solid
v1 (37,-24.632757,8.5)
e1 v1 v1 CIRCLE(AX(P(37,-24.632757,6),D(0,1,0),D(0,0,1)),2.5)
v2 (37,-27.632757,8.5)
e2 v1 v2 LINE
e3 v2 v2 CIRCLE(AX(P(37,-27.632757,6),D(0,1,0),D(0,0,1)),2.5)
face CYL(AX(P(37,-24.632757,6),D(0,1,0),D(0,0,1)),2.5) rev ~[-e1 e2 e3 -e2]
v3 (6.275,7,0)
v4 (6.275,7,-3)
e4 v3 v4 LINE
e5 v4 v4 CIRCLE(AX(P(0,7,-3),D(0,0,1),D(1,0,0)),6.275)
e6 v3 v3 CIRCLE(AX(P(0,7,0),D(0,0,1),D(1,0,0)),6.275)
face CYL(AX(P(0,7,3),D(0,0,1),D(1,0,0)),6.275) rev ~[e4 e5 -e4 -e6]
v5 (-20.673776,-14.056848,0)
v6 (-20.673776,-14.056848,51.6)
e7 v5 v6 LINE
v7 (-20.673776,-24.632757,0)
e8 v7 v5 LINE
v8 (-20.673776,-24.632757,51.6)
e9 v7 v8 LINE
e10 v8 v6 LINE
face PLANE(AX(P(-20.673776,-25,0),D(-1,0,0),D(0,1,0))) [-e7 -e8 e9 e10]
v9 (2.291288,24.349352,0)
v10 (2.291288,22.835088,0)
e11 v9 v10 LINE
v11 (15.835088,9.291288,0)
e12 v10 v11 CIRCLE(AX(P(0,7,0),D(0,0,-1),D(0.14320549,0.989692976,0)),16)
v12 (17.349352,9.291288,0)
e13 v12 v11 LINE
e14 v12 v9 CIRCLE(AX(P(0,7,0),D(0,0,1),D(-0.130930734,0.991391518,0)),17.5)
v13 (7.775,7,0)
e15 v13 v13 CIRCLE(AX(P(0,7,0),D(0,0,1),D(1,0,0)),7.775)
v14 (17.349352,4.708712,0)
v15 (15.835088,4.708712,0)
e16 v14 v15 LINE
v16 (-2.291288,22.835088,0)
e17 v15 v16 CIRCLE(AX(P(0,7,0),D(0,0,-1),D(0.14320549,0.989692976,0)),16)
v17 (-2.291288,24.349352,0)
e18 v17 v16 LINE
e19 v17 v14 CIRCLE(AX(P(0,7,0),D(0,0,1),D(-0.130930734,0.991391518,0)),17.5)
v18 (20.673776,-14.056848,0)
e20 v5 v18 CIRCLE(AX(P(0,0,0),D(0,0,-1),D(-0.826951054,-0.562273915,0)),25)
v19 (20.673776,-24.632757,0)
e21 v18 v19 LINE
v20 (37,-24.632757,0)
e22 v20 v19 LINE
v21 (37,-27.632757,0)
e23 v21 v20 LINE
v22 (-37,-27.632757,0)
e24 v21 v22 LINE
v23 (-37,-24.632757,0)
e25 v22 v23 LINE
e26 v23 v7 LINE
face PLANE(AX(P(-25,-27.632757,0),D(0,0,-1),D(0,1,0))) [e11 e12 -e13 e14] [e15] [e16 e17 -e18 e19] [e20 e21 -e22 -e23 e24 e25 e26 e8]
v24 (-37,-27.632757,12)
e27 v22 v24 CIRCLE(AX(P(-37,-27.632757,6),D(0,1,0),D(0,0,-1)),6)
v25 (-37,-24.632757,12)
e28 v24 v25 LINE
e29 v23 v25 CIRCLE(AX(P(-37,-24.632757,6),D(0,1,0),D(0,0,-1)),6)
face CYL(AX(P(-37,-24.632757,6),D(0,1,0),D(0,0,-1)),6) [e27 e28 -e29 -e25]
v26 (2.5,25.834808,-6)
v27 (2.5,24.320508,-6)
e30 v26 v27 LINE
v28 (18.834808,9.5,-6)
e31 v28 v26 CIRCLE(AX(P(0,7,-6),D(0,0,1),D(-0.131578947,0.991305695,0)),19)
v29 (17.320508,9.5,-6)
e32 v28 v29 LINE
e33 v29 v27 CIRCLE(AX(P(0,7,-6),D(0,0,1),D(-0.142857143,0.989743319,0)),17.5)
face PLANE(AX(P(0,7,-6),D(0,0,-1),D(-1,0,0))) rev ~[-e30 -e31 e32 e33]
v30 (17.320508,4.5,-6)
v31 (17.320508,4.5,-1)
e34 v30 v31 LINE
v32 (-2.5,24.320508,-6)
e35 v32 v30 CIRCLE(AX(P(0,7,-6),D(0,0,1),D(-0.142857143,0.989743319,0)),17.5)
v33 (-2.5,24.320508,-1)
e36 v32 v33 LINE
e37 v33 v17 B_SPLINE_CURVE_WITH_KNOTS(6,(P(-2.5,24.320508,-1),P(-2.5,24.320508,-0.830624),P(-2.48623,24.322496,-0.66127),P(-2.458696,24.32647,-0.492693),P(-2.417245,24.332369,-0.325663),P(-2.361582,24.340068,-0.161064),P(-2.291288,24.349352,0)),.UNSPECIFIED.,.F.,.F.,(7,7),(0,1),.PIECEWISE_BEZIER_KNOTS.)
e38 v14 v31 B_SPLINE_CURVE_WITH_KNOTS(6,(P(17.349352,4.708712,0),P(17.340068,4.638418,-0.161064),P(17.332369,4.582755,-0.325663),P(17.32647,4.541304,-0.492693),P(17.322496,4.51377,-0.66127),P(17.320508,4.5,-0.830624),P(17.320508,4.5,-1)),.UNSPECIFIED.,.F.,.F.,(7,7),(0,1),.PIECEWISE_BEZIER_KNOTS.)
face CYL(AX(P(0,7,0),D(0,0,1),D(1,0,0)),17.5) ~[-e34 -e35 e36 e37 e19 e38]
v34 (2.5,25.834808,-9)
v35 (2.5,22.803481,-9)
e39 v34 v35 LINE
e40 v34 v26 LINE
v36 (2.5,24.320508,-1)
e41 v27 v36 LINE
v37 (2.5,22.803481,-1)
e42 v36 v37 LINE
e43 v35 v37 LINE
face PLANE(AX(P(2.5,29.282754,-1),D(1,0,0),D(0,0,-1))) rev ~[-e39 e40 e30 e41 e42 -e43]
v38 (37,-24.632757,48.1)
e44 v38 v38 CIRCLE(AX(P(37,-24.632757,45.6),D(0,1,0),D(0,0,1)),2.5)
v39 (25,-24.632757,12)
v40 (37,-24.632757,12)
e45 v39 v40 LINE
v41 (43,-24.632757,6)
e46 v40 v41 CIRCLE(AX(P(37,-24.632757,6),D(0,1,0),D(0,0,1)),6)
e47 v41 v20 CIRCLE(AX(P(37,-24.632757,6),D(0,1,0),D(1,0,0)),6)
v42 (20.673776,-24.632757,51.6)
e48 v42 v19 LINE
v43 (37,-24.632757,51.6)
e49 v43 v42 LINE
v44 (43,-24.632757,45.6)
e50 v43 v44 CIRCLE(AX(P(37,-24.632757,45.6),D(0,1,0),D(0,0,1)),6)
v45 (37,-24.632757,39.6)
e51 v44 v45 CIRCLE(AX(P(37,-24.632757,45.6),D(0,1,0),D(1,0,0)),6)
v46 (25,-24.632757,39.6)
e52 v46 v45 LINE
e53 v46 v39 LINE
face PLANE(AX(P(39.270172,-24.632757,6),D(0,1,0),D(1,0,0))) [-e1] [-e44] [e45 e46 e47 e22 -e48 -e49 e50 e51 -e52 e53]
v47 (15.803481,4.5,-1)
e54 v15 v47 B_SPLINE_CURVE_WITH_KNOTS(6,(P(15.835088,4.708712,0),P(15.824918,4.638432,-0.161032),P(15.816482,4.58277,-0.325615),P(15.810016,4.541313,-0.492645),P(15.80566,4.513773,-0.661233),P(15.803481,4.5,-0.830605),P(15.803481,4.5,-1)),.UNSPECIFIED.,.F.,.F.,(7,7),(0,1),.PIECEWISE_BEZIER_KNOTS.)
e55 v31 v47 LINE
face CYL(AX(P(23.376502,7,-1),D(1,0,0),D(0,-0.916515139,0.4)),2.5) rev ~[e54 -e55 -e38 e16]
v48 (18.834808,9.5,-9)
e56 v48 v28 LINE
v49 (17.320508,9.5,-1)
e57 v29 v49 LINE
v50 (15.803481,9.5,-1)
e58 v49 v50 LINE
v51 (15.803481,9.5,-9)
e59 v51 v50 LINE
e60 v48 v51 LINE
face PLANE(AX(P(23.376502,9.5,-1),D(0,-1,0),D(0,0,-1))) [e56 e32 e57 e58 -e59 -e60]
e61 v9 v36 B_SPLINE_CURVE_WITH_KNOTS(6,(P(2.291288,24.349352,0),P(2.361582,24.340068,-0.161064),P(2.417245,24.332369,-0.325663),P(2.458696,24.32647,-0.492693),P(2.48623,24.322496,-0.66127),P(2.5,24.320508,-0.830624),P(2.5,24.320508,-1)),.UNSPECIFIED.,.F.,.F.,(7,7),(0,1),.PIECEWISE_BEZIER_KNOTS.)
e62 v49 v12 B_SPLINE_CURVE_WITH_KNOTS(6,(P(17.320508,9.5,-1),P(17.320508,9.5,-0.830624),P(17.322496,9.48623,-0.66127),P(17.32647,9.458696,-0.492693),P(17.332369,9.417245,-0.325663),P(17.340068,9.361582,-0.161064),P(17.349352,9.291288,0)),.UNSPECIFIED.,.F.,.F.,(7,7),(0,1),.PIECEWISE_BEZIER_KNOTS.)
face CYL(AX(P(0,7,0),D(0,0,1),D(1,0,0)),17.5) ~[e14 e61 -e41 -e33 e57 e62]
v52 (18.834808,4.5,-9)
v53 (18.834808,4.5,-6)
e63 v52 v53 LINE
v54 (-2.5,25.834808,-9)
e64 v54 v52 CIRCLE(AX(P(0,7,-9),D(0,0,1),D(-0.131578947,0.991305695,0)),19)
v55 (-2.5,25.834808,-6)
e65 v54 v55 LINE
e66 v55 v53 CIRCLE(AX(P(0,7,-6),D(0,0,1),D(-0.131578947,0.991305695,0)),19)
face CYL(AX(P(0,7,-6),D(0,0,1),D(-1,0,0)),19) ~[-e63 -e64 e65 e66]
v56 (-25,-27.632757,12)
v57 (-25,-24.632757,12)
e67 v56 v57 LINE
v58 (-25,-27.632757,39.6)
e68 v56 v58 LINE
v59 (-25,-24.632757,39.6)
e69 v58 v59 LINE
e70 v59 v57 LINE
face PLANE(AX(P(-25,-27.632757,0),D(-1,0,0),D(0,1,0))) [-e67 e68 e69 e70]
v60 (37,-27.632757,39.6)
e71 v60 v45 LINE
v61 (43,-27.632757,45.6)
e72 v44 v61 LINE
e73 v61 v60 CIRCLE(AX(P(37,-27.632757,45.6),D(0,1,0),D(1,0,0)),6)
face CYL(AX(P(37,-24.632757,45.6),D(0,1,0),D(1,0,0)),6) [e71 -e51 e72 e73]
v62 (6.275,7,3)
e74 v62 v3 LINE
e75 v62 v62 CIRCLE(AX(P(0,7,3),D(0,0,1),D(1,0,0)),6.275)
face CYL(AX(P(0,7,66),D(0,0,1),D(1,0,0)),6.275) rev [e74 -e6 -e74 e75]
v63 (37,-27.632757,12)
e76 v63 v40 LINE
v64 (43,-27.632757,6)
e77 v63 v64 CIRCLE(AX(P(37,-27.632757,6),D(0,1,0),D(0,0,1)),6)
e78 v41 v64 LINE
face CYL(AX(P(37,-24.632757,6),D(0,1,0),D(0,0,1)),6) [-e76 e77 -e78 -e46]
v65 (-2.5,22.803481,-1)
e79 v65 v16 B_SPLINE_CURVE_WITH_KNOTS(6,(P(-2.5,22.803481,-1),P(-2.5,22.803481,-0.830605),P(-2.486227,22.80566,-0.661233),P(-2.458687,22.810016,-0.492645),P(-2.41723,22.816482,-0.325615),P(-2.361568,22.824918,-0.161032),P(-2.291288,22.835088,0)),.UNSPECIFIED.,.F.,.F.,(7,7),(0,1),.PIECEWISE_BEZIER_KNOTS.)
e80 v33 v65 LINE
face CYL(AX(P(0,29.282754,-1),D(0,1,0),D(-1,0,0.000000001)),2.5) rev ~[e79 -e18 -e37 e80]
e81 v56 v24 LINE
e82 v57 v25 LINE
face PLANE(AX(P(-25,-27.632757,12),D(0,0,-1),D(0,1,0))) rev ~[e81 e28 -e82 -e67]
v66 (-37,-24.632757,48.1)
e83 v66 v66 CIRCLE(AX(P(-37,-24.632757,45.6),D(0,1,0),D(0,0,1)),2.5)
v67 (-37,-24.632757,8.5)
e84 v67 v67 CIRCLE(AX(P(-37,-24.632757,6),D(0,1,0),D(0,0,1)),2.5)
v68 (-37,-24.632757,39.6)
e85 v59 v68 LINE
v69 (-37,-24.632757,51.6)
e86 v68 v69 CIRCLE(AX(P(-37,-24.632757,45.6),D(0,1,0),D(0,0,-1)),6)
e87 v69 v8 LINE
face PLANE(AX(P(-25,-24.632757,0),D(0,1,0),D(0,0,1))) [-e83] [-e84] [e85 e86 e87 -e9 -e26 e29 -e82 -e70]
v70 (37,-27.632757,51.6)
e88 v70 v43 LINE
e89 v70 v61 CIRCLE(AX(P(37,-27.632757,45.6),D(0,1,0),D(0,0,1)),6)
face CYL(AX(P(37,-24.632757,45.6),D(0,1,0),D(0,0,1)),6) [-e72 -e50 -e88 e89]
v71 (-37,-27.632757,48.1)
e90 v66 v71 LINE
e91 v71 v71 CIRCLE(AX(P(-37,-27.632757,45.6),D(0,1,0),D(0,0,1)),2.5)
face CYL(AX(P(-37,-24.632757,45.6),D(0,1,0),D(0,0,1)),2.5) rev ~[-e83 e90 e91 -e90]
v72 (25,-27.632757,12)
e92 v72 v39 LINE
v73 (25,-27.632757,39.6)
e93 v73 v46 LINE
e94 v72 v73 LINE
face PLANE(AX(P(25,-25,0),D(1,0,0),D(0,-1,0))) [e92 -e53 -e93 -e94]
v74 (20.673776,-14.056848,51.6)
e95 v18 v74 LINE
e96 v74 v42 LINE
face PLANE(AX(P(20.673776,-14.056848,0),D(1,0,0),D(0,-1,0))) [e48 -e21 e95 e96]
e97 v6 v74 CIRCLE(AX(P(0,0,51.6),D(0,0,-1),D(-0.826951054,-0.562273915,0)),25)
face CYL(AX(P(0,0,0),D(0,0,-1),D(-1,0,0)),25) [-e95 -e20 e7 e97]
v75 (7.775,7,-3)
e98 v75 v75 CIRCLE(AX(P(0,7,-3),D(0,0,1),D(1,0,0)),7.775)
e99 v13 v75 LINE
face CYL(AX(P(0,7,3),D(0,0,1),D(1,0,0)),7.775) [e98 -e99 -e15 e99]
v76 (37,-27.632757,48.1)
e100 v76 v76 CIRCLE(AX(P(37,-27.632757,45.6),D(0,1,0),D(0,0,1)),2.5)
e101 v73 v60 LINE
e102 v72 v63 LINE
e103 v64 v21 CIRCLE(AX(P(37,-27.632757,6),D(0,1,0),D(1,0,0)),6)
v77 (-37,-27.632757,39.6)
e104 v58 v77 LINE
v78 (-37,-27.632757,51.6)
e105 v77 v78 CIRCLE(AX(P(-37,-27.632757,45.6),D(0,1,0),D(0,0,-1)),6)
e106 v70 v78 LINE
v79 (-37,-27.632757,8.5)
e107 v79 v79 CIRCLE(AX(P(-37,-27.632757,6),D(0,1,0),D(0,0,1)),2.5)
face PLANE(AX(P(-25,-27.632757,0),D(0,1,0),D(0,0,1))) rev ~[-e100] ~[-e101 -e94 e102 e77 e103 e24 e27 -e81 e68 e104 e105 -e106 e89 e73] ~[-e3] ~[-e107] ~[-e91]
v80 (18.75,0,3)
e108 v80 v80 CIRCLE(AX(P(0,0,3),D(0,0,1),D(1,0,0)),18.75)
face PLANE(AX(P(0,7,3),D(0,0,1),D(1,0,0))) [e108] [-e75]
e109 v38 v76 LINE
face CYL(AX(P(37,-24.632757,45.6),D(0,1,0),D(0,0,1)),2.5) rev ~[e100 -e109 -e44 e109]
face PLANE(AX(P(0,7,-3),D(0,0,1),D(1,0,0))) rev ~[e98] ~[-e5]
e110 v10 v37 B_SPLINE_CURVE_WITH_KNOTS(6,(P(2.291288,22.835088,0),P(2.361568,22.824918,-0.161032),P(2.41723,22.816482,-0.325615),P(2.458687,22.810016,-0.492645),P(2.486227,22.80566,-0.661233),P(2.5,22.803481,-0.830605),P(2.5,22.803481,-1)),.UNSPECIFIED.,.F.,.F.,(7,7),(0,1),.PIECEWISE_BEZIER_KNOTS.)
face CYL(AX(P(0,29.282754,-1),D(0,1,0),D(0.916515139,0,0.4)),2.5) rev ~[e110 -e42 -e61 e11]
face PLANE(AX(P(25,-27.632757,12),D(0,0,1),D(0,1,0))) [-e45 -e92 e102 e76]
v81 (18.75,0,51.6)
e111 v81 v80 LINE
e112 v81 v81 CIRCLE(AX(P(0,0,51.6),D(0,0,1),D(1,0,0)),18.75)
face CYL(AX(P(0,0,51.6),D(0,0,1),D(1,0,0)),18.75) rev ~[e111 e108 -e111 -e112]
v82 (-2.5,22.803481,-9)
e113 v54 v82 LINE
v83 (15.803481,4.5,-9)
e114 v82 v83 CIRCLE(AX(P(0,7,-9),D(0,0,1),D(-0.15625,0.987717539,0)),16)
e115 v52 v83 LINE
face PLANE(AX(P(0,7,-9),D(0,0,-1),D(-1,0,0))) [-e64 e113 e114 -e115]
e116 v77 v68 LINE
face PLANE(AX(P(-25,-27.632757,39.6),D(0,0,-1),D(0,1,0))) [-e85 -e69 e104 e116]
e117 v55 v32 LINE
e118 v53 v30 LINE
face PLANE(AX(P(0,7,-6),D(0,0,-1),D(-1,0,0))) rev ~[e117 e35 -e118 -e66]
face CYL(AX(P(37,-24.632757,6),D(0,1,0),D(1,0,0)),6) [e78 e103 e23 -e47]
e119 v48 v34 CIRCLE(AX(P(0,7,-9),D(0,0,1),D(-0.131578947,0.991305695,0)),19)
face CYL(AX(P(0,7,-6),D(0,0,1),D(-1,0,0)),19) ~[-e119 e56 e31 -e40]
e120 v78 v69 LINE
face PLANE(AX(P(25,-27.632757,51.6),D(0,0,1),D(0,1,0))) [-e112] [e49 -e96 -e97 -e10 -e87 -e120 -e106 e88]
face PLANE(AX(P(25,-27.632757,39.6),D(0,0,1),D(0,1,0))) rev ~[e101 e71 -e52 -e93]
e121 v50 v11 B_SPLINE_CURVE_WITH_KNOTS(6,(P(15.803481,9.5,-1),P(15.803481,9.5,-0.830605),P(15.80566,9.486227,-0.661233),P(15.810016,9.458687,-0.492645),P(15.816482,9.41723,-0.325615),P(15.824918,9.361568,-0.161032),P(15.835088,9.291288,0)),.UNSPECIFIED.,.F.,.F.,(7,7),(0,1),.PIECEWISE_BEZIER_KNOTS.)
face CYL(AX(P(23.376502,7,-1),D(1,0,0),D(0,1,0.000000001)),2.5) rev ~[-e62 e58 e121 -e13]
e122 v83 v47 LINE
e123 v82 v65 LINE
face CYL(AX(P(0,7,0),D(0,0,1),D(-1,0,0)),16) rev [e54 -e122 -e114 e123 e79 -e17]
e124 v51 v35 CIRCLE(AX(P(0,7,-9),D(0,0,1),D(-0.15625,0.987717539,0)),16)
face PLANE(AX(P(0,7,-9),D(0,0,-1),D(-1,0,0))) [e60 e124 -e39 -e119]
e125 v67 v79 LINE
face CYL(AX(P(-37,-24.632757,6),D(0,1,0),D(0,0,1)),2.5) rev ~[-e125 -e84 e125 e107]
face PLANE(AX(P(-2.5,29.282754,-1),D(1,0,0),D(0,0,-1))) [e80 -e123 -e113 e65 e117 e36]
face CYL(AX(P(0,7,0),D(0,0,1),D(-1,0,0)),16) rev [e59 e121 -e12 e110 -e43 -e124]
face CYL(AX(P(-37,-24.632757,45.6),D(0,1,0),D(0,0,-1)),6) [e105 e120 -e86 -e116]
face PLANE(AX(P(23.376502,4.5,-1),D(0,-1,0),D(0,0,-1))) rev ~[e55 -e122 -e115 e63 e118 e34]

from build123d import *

# Parameters (mm, degrees)
CROQUIS1_R                 = 21.1
SALIENTE_EXTRUIR1_DEPTH    = 51.6
CROQUIS2_R                 = 18.75
CORTAR_EXTRUIR1_DEPTH      = 48.6
CROQUIS5_R                 = 7.775
CROQUIS5_R_2               = 6.275
SALIENTE_EXTRUIR3_DEPTH    = 6
CORTAR_EXTRUIR2_START      = -66
CROQUIS6_R                 = 6.275
CORTAR_EXTRUIR2_DEPTH      = 66
CROQUIS10_R                = 25
CROQUIS10_R_2              = 21.1
SALIENTE_EXTRUIR4_DEPTH    = 51.6
CROQUIS11_R                = 17.5
CROQUIS11_R_2              = 16
SALIENTE_EXTRUIR5_DEPTH    = 9
SALIENTE_EXTRUIR6_START    = -3
CROQUIS12_R                = 19
CROQUIS12_R_2              = 17.5
SALIENTE_EXTRUIR6_DEPTH    = 3
SALIENTE_EXTRUIR7_DEPTH    = 51.6
SALIENTE_EXTRUIR8_REACH    = 78.981
CROQUIS14_W                = 51.6
CROQUIS14_H                = 3
CROQUIS16_W                = 12
CROQUIS16_H                = 3
SALIENTE_EXTRUIR9_DEPTH    = 12
SALIENTE_EXTRUIR11_DEPTH   = 3
CROQUIS19_R                = 2.5
CORTAR_EXTRUIR5_DEPTH      = 15
CROQUIS20_W                = 12
CROQUIS20_H                = 3
SALIENTE_EXTRUIR12_DEPTH   = 12
SALIENTE_EXTRUIR13_DEPTH   = 3
CROQUIS22_R                = 2.5
CORTAR_EXTRUIR6_DEPTH      = 12
SALIENTE_EXTRUIR14_DEPTH   = 8
SALIENTE_EXTRUIR14_2_DEPTH = 8
CROQUIS26_W                = 2.5
CROQUIS26_H                = 8
CORTAR_EXTRUIR11_DEPTH     = 10
CROQUIS27_W                = 8
CROQUIS27_H                = 2.5
CORTAR_EXTRUIR12_DEPTH     = 13


with BuildPart() as part:
    # Croquis1 → Saliente-Extruir1 (new body)
    with BuildSketch(Plane.XY):
        with Locations(Location((0, 0, 0), (0, 0, 180))):
            Circle(CROQUIS1_R)
    extrude(amount=SALIENTE_EXTRUIR1_DEPTH)

    # Croquis2 → Cortar-Extruir1 (cut)
    with BuildSketch(Plane.XY.offset(51.6)):
        Circle(CROQUIS2_R)
    extrude(amount=-CORTAR_EXTRUIR1_DEPTH, mode=Mode.SUBTRACT)

    # Croquis5 → Saliente-Extruir3 (add)
    with BuildSketch(Plane.XY.offset(3)):
        with Locations((0, 7)):
            Circle(CROQUIS5_R)
        with Locations((0, 7)):
            Circle(CROQUIS5_R_2, mode=Mode.SUBTRACT)
    extrude(amount=-SALIENTE_EXTRUIR3_DEPTH)

    # Croquis6 → Cortar-Extruir2 (cut)
    with BuildSketch(Plane(origin=(0, 0, 0), x_dir=(-1, 0, 0), z_dir=(0, 0, -1)).offset(CORTAR_EXTRUIR2_START)):
        with Locations(Location((0, 7, 0), (0, 0, 180))):
            Circle(CROQUIS6_R)
    extrude(amount=CORTAR_EXTRUIR2_DEPTH, mode=Mode.SUBTRACT)

    # Croquis10 → Saliente-Extruir4 (add)
    with BuildSketch(Plane(origin=(0, 0, 0), x_dir=(-1, 0, 0), z_dir=(0, 0, -1))):
        Circle(CROQUIS10_R)
        Circle(CROQUIS10_R_2, mode=Mode.SUBTRACT)
    extrude(amount=-SALIENTE_EXTRUIR4_DEPTH)

    # Croquis11 → Saliente-Extruir5 (add)
    with BuildSketch(Plane(origin=(0, 0, 0), x_dir=(-1, 0, 0), z_dir=(0, 0, -1))):
        with Locations(Location((0, 7, 0), (0, 0, 180))):
            Circle(CROQUIS11_R)
        with Locations((0, 7)):
            Circle(CROQUIS11_R_2, mode=Mode.SUBTRACT)
    extrude(amount=SALIENTE_EXTRUIR5_DEPTH)

    # Croquis12 → Saliente-Extruir6 (add)
    with BuildSketch(Plane(origin=(0, 0, -9), x_dir=(-1, 0, 0), z_dir=(0, 0, -1)).offset(SALIENTE_EXTRUIR6_START)):
        with Locations((0, 7)):
            Circle(CROQUIS12_R)
        with Locations(Location((0, 7, 0), (0, 0, 180))):
            Circle(CROQUIS12_R_2, mode=Mode.SUBTRACT)
    extrude(amount=SALIENTE_EXTRUIR6_DEPTH)

    # Croquis13 → Saliente-Extruir7 (add)
    with BuildSketch(Plane(origin=(0, 0, 0), x_dir=(-1, 0, 0), z_dir=(0, 0, -1))):
        with BuildLine():
            Line((-20.673776338, -25), (0, -25))
            ThreePointArc((0, -25), (-11.695700136, -22.095488189), (-20.673776338, -14.056847866))
            Line((-20.673776338, -14.056847866), (-20.673776338, -25))
        make_face()
        with BuildLine():
            ThreePointArc((20.673776338, -14.056847866), (11.695700136, -22.095488189), (0, -25))
            Line((0, -25), (20.673776338, -25))
            Line((20.673776338, -25), (20.673776338, -14.056847866))
        make_face()
        Polygon((25, -27.632757418), (25, -25), (0, -25), (-25, -25), (-25, -27.632757418), align=None)
    extrude(amount=-SALIENTE_EXTRUIR7_DEPTH)

    # Saliente-Extruir8: up to this face of the body (flat: up to its plane)
    saliente_extruir8_end = Plane(part.part.faces().sort_by_distance((-25, -26.316378709, 25.8))[0])
    # Croquis14 → Saliente-Extruir8 (add, up to the picked face)
    with BuildSketch(Plane(origin=(25, 0, 0), x_dir=(0, 0, -1), z_dir=(1, 0, 0)), mode=Mode.PRIVATE) as saliente_extruir8_sk1:
        with Locations((-25.8, -26.132757418)):
            Rectangle(CROQUIS14_W, CROQUIS14_H)
    saliente_extruir8_tool1 = split(extrude(saliente_extruir8_sk1.sketch, amount=-SALIENTE_EXTRUIR8_REACH, mode=Mode.PRIVATE), bisect_by=saliente_extruir8_end, keep=Keep.BOTH, mode=Mode.PRIVATE)
    add(saliente_extruir8_tool1.solids().sort_by(Axis((25, -26.132757, 25.8), (-1, 0, 0)))[0])

    # Croquis16 → Saliente-Extruir9 (add)
    with BuildSketch(Plane(origin=(25, 0, 0), x_dir=(0, 0, -1), z_dir=(1, 0, 0))):
        with Locations((-45.6, -26.132757418)):
            Rectangle(CROQUIS16_W, CROQUIS16_H)
        with Locations((-6, -26.132757418)):
            Rectangle(CROQUIS16_W, CROQUIS16_H)
    extrude(amount=SALIENTE_EXTRUIR9_DEPTH)

    # Croquis18 → Saliente-Extruir11 (add)
    with BuildSketch(Plane(origin=(0, -24.632757418, 0), x_dir=(1, 0, 0), z_dir=(0, 1, 0))):
        with BuildLine():
            ThreePointArc((37, -12), (41.242640687, -10.242640687), (43, -6))
            ThreePointArc((43, -6), (41.242640687, -1.757359313), (37, 0))
            Line((37, 0), (37, -12))
        make_face()
        with BuildLine():
            Line((37, -12), (37, 0))
            ThreePointArc((37, 0), (31, -6), (37, -12))
        make_face()
        with BuildLine():
            ThreePointArc((43, -45.6), (41.242640687, -41.357359313), (37, -39.6))
            Line((37, -39.6), (37, -51.6))
            ThreePointArc((37, -51.6), (41.242640687, -49.842640687), (43, -45.6))
        make_face()
        with BuildLine():
            Line((37, -51.6), (37, -39.6))
            ThreePointArc((37, -39.6), (31, -45.6), (37, -51.6))
        make_face()
    extrude(amount=-SALIENTE_EXTRUIR11_DEPTH)

    # Croquis19 → Cortar-Extruir5 (cut)
    with BuildSketch(Plane(origin=(0, -24.632757418, 0), x_dir=(1, 0, 0), z_dir=(0, 1, 0))):
        with Locations(Location((37, -6, 0), (0, 0, 270))):
            Circle(CROQUIS19_R)
        with Locations(Location((37, -45.6, 0), (0, 0, 270))):
            Circle(CROQUIS19_R)
    extrude(amount=-CORTAR_EXTRUIR5_DEPTH, mode=Mode.SUBTRACT)

    # Croquis20 → Saliente-Extruir12 (add)
    with BuildSketch(Plane.ZY.offset(25)):
        with Locations((6, -26.132757418)):
            Rectangle(CROQUIS20_W, CROQUIS20_H)
        with Locations((45.6, -26.132757418)):
            Rectangle(CROQUIS20_W, CROQUIS20_H)
    extrude(amount=SALIENTE_EXTRUIR12_DEPTH)

    # Croquis21 → Saliente-Extruir13 (add)
    with BuildSketch(Plane(origin=(0, -24.632757418, 0), x_dir=(1, 0, 0), z_dir=(0, 1, 0))):
        with BuildLine():
            ThreePointArc((-31, -6), (-32.757359313, -1.757359313), (-37, 0))
            Line((-37, 0), (-37, -12))
            ThreePointArc((-37, -12), (-32.757359313, -10.242640687), (-31, -6))
        make_face()
        with BuildLine():
            Line((-37, -12), (-37, 0))
            ThreePointArc((-37, 0), (-43, -6), (-37, -12))
        make_face()
        with BuildLine():
            ThreePointArc((-31, -45.6), (-32.757359313, -41.357359313), (-37, -39.6))
            Line((-37, -39.6), (-37, -51.6))
            ThreePointArc((-37, -51.6), (-32.757359313, -49.842640687), (-31, -45.6))
        make_face()
        with BuildLine():
            Line((-37, -51.6), (-37, -39.6))
            ThreePointArc((-37, -39.6), (-43, -45.6), (-37, -51.6))
        make_face()
    extrude(amount=-SALIENTE_EXTRUIR13_DEPTH)

    # Croquis22 → Cortar-Extruir6 (cut)
    with BuildSketch(Plane(origin=(0, -24.632757418, 0), x_dir=(1, 0, 0), z_dir=(0, 1, 0))):
        with Locations(Location((-37, -6, 0), (0, 0, 270))):
            Circle(CROQUIS22_R)
        with Locations(Location((-37, -45.6, 0), (0, 0, 270))):
            Circle(CROQUIS22_R)
    extrude(amount=-CORTAR_EXTRUIR6_DEPTH, mode=Mode.SUBTRACT)


with BuildPart() as body_2:
    # Croquis23 → Saliente-Extruir14 (new body)
    with BuildSketch(Plane(origin=(0, 0, -9), x_dir=(-1, 0, 0), z_dir=(0, 0, -1))):
        Polygon((2.5, 29.282754404), (2.5, 26), (0, 26), (-2.5, 26), (-2.5, 29.282754404), align=None)
    extrude(amount=-SALIENTE_EXTRUIR14_DEPTH)


with BuildPart() as body_3:
    # Croquis23 → Saliente-Extruir14 2 (new body)
    with BuildSketch(Plane(origin=(0, 0, -9), x_dir=(-1, 0, 0), z_dir=(0, 0, -1))):
        Polygon((-23.376501852, 9.5), (-23.376501852, 4.5), (-19, 4.5), (-19, 7), (-19, 9.5), align=None)
    extrude(amount=-SALIENTE_EXTRUIR14_2_DEPTH)


with BuildPart() as cortar_extruir11_tool:
    # Croquis26 → Cortar-Extruir11 (new body)
    with BuildSketch(Plane(origin=(0, 29.282754404, 0), x_dir=(1, 0, 0), z_dir=(0, 1, 0))):
        with BuildLine():
            ThreePointArc((2.5, 9), (0, 11.5), (-2.5, 9))
            Line((-2.5, 9), (2.5, 9))
        make_face()
        with Locations((-1.25, 5)):
            Rectangle(CROQUIS26_W, CROQUIS26_H)
        with Locations((1.25, 5)):
            Rectangle(CROQUIS26_W, CROQUIS26_H)
        with BuildLine():
            Line((2.5, 1), (0, 1))
            Line((0, 1), (-2.5, 1))
            ThreePointArc((-2.5, 1), (-2.447265782, 0.489225891), (-2.291287847, 0))
            Line((-2.291287847, 0), (2.291287847, 0))
            ThreePointArc((2.291287847, 0), (2.447265782, 0.489225891), (2.5, 1))
        make_face()
    extrude(amount=-CORTAR_EXTRUIR11_DEPTH)


with BuildPart() as part_1:
    add(part.part)

    # Cortar-Extruir11: cut by cortar_extruir11_tool
    add(cortar_extruir11_tool.part, mode=Mode.SUBTRACT)


with BuildPart() as body_2_1:
    add(body_2.part)

    # Cortar-Extruir11: cut by cortar_extruir11_tool
    add(cortar_extruir11_tool.part, mode=Mode.SUBTRACT)


with BuildPart() as cortar_extruir12_tool:
    # Croquis27 → Cortar-Extruir12 (new body)
    with BuildSketch(Plane(origin=(23.376501852, 0, 0), x_dir=(0, 0, -1), z_dir=(1, 0, 0))):
        with BuildLine():
            Line((1, 4.5), (1, 7))
            Line((1, 7), (1, 9.5))
            ThreePointArc((1, 9.5), (0.489225891, 9.447265782), (0, 9.291287847))
            Line((0, 9.291287847), (0, 4.708712153))
            ThreePointArc((0, 4.708712153), (0.489225891, 4.552734218), (1, 4.5))
        make_face()
        with Locations((5, 8.25)):
            Rectangle(CROQUIS27_W, CROQUIS27_H)
        with Locations((5, 5.75)):
            Rectangle(CROQUIS27_W, CROQUIS27_H)
        with BuildLine():
            ThreePointArc((9, 4.5), (11.5, 7), (9, 9.5))
            Line((9, 9.5), (9, 4.5))
        make_face()
    extrude(amount=-CORTAR_EXTRUIR12_DEPTH)


with BuildPart() as part_2:
    add(part_1.part)

    # Cortar-Extruir12: cut by cortar_extruir12_tool
    add(cortar_extruir12_tool.part, mode=Mode.SUBTRACT)


with BuildPart() as body_3_1:
    add(body_3.part)

    # Cortar-Extruir12: cut by cortar_extruir12_tool
    add(cortar_extruir12_tool.part, mode=Mode.SUBTRACT)


solid = part_2.part
